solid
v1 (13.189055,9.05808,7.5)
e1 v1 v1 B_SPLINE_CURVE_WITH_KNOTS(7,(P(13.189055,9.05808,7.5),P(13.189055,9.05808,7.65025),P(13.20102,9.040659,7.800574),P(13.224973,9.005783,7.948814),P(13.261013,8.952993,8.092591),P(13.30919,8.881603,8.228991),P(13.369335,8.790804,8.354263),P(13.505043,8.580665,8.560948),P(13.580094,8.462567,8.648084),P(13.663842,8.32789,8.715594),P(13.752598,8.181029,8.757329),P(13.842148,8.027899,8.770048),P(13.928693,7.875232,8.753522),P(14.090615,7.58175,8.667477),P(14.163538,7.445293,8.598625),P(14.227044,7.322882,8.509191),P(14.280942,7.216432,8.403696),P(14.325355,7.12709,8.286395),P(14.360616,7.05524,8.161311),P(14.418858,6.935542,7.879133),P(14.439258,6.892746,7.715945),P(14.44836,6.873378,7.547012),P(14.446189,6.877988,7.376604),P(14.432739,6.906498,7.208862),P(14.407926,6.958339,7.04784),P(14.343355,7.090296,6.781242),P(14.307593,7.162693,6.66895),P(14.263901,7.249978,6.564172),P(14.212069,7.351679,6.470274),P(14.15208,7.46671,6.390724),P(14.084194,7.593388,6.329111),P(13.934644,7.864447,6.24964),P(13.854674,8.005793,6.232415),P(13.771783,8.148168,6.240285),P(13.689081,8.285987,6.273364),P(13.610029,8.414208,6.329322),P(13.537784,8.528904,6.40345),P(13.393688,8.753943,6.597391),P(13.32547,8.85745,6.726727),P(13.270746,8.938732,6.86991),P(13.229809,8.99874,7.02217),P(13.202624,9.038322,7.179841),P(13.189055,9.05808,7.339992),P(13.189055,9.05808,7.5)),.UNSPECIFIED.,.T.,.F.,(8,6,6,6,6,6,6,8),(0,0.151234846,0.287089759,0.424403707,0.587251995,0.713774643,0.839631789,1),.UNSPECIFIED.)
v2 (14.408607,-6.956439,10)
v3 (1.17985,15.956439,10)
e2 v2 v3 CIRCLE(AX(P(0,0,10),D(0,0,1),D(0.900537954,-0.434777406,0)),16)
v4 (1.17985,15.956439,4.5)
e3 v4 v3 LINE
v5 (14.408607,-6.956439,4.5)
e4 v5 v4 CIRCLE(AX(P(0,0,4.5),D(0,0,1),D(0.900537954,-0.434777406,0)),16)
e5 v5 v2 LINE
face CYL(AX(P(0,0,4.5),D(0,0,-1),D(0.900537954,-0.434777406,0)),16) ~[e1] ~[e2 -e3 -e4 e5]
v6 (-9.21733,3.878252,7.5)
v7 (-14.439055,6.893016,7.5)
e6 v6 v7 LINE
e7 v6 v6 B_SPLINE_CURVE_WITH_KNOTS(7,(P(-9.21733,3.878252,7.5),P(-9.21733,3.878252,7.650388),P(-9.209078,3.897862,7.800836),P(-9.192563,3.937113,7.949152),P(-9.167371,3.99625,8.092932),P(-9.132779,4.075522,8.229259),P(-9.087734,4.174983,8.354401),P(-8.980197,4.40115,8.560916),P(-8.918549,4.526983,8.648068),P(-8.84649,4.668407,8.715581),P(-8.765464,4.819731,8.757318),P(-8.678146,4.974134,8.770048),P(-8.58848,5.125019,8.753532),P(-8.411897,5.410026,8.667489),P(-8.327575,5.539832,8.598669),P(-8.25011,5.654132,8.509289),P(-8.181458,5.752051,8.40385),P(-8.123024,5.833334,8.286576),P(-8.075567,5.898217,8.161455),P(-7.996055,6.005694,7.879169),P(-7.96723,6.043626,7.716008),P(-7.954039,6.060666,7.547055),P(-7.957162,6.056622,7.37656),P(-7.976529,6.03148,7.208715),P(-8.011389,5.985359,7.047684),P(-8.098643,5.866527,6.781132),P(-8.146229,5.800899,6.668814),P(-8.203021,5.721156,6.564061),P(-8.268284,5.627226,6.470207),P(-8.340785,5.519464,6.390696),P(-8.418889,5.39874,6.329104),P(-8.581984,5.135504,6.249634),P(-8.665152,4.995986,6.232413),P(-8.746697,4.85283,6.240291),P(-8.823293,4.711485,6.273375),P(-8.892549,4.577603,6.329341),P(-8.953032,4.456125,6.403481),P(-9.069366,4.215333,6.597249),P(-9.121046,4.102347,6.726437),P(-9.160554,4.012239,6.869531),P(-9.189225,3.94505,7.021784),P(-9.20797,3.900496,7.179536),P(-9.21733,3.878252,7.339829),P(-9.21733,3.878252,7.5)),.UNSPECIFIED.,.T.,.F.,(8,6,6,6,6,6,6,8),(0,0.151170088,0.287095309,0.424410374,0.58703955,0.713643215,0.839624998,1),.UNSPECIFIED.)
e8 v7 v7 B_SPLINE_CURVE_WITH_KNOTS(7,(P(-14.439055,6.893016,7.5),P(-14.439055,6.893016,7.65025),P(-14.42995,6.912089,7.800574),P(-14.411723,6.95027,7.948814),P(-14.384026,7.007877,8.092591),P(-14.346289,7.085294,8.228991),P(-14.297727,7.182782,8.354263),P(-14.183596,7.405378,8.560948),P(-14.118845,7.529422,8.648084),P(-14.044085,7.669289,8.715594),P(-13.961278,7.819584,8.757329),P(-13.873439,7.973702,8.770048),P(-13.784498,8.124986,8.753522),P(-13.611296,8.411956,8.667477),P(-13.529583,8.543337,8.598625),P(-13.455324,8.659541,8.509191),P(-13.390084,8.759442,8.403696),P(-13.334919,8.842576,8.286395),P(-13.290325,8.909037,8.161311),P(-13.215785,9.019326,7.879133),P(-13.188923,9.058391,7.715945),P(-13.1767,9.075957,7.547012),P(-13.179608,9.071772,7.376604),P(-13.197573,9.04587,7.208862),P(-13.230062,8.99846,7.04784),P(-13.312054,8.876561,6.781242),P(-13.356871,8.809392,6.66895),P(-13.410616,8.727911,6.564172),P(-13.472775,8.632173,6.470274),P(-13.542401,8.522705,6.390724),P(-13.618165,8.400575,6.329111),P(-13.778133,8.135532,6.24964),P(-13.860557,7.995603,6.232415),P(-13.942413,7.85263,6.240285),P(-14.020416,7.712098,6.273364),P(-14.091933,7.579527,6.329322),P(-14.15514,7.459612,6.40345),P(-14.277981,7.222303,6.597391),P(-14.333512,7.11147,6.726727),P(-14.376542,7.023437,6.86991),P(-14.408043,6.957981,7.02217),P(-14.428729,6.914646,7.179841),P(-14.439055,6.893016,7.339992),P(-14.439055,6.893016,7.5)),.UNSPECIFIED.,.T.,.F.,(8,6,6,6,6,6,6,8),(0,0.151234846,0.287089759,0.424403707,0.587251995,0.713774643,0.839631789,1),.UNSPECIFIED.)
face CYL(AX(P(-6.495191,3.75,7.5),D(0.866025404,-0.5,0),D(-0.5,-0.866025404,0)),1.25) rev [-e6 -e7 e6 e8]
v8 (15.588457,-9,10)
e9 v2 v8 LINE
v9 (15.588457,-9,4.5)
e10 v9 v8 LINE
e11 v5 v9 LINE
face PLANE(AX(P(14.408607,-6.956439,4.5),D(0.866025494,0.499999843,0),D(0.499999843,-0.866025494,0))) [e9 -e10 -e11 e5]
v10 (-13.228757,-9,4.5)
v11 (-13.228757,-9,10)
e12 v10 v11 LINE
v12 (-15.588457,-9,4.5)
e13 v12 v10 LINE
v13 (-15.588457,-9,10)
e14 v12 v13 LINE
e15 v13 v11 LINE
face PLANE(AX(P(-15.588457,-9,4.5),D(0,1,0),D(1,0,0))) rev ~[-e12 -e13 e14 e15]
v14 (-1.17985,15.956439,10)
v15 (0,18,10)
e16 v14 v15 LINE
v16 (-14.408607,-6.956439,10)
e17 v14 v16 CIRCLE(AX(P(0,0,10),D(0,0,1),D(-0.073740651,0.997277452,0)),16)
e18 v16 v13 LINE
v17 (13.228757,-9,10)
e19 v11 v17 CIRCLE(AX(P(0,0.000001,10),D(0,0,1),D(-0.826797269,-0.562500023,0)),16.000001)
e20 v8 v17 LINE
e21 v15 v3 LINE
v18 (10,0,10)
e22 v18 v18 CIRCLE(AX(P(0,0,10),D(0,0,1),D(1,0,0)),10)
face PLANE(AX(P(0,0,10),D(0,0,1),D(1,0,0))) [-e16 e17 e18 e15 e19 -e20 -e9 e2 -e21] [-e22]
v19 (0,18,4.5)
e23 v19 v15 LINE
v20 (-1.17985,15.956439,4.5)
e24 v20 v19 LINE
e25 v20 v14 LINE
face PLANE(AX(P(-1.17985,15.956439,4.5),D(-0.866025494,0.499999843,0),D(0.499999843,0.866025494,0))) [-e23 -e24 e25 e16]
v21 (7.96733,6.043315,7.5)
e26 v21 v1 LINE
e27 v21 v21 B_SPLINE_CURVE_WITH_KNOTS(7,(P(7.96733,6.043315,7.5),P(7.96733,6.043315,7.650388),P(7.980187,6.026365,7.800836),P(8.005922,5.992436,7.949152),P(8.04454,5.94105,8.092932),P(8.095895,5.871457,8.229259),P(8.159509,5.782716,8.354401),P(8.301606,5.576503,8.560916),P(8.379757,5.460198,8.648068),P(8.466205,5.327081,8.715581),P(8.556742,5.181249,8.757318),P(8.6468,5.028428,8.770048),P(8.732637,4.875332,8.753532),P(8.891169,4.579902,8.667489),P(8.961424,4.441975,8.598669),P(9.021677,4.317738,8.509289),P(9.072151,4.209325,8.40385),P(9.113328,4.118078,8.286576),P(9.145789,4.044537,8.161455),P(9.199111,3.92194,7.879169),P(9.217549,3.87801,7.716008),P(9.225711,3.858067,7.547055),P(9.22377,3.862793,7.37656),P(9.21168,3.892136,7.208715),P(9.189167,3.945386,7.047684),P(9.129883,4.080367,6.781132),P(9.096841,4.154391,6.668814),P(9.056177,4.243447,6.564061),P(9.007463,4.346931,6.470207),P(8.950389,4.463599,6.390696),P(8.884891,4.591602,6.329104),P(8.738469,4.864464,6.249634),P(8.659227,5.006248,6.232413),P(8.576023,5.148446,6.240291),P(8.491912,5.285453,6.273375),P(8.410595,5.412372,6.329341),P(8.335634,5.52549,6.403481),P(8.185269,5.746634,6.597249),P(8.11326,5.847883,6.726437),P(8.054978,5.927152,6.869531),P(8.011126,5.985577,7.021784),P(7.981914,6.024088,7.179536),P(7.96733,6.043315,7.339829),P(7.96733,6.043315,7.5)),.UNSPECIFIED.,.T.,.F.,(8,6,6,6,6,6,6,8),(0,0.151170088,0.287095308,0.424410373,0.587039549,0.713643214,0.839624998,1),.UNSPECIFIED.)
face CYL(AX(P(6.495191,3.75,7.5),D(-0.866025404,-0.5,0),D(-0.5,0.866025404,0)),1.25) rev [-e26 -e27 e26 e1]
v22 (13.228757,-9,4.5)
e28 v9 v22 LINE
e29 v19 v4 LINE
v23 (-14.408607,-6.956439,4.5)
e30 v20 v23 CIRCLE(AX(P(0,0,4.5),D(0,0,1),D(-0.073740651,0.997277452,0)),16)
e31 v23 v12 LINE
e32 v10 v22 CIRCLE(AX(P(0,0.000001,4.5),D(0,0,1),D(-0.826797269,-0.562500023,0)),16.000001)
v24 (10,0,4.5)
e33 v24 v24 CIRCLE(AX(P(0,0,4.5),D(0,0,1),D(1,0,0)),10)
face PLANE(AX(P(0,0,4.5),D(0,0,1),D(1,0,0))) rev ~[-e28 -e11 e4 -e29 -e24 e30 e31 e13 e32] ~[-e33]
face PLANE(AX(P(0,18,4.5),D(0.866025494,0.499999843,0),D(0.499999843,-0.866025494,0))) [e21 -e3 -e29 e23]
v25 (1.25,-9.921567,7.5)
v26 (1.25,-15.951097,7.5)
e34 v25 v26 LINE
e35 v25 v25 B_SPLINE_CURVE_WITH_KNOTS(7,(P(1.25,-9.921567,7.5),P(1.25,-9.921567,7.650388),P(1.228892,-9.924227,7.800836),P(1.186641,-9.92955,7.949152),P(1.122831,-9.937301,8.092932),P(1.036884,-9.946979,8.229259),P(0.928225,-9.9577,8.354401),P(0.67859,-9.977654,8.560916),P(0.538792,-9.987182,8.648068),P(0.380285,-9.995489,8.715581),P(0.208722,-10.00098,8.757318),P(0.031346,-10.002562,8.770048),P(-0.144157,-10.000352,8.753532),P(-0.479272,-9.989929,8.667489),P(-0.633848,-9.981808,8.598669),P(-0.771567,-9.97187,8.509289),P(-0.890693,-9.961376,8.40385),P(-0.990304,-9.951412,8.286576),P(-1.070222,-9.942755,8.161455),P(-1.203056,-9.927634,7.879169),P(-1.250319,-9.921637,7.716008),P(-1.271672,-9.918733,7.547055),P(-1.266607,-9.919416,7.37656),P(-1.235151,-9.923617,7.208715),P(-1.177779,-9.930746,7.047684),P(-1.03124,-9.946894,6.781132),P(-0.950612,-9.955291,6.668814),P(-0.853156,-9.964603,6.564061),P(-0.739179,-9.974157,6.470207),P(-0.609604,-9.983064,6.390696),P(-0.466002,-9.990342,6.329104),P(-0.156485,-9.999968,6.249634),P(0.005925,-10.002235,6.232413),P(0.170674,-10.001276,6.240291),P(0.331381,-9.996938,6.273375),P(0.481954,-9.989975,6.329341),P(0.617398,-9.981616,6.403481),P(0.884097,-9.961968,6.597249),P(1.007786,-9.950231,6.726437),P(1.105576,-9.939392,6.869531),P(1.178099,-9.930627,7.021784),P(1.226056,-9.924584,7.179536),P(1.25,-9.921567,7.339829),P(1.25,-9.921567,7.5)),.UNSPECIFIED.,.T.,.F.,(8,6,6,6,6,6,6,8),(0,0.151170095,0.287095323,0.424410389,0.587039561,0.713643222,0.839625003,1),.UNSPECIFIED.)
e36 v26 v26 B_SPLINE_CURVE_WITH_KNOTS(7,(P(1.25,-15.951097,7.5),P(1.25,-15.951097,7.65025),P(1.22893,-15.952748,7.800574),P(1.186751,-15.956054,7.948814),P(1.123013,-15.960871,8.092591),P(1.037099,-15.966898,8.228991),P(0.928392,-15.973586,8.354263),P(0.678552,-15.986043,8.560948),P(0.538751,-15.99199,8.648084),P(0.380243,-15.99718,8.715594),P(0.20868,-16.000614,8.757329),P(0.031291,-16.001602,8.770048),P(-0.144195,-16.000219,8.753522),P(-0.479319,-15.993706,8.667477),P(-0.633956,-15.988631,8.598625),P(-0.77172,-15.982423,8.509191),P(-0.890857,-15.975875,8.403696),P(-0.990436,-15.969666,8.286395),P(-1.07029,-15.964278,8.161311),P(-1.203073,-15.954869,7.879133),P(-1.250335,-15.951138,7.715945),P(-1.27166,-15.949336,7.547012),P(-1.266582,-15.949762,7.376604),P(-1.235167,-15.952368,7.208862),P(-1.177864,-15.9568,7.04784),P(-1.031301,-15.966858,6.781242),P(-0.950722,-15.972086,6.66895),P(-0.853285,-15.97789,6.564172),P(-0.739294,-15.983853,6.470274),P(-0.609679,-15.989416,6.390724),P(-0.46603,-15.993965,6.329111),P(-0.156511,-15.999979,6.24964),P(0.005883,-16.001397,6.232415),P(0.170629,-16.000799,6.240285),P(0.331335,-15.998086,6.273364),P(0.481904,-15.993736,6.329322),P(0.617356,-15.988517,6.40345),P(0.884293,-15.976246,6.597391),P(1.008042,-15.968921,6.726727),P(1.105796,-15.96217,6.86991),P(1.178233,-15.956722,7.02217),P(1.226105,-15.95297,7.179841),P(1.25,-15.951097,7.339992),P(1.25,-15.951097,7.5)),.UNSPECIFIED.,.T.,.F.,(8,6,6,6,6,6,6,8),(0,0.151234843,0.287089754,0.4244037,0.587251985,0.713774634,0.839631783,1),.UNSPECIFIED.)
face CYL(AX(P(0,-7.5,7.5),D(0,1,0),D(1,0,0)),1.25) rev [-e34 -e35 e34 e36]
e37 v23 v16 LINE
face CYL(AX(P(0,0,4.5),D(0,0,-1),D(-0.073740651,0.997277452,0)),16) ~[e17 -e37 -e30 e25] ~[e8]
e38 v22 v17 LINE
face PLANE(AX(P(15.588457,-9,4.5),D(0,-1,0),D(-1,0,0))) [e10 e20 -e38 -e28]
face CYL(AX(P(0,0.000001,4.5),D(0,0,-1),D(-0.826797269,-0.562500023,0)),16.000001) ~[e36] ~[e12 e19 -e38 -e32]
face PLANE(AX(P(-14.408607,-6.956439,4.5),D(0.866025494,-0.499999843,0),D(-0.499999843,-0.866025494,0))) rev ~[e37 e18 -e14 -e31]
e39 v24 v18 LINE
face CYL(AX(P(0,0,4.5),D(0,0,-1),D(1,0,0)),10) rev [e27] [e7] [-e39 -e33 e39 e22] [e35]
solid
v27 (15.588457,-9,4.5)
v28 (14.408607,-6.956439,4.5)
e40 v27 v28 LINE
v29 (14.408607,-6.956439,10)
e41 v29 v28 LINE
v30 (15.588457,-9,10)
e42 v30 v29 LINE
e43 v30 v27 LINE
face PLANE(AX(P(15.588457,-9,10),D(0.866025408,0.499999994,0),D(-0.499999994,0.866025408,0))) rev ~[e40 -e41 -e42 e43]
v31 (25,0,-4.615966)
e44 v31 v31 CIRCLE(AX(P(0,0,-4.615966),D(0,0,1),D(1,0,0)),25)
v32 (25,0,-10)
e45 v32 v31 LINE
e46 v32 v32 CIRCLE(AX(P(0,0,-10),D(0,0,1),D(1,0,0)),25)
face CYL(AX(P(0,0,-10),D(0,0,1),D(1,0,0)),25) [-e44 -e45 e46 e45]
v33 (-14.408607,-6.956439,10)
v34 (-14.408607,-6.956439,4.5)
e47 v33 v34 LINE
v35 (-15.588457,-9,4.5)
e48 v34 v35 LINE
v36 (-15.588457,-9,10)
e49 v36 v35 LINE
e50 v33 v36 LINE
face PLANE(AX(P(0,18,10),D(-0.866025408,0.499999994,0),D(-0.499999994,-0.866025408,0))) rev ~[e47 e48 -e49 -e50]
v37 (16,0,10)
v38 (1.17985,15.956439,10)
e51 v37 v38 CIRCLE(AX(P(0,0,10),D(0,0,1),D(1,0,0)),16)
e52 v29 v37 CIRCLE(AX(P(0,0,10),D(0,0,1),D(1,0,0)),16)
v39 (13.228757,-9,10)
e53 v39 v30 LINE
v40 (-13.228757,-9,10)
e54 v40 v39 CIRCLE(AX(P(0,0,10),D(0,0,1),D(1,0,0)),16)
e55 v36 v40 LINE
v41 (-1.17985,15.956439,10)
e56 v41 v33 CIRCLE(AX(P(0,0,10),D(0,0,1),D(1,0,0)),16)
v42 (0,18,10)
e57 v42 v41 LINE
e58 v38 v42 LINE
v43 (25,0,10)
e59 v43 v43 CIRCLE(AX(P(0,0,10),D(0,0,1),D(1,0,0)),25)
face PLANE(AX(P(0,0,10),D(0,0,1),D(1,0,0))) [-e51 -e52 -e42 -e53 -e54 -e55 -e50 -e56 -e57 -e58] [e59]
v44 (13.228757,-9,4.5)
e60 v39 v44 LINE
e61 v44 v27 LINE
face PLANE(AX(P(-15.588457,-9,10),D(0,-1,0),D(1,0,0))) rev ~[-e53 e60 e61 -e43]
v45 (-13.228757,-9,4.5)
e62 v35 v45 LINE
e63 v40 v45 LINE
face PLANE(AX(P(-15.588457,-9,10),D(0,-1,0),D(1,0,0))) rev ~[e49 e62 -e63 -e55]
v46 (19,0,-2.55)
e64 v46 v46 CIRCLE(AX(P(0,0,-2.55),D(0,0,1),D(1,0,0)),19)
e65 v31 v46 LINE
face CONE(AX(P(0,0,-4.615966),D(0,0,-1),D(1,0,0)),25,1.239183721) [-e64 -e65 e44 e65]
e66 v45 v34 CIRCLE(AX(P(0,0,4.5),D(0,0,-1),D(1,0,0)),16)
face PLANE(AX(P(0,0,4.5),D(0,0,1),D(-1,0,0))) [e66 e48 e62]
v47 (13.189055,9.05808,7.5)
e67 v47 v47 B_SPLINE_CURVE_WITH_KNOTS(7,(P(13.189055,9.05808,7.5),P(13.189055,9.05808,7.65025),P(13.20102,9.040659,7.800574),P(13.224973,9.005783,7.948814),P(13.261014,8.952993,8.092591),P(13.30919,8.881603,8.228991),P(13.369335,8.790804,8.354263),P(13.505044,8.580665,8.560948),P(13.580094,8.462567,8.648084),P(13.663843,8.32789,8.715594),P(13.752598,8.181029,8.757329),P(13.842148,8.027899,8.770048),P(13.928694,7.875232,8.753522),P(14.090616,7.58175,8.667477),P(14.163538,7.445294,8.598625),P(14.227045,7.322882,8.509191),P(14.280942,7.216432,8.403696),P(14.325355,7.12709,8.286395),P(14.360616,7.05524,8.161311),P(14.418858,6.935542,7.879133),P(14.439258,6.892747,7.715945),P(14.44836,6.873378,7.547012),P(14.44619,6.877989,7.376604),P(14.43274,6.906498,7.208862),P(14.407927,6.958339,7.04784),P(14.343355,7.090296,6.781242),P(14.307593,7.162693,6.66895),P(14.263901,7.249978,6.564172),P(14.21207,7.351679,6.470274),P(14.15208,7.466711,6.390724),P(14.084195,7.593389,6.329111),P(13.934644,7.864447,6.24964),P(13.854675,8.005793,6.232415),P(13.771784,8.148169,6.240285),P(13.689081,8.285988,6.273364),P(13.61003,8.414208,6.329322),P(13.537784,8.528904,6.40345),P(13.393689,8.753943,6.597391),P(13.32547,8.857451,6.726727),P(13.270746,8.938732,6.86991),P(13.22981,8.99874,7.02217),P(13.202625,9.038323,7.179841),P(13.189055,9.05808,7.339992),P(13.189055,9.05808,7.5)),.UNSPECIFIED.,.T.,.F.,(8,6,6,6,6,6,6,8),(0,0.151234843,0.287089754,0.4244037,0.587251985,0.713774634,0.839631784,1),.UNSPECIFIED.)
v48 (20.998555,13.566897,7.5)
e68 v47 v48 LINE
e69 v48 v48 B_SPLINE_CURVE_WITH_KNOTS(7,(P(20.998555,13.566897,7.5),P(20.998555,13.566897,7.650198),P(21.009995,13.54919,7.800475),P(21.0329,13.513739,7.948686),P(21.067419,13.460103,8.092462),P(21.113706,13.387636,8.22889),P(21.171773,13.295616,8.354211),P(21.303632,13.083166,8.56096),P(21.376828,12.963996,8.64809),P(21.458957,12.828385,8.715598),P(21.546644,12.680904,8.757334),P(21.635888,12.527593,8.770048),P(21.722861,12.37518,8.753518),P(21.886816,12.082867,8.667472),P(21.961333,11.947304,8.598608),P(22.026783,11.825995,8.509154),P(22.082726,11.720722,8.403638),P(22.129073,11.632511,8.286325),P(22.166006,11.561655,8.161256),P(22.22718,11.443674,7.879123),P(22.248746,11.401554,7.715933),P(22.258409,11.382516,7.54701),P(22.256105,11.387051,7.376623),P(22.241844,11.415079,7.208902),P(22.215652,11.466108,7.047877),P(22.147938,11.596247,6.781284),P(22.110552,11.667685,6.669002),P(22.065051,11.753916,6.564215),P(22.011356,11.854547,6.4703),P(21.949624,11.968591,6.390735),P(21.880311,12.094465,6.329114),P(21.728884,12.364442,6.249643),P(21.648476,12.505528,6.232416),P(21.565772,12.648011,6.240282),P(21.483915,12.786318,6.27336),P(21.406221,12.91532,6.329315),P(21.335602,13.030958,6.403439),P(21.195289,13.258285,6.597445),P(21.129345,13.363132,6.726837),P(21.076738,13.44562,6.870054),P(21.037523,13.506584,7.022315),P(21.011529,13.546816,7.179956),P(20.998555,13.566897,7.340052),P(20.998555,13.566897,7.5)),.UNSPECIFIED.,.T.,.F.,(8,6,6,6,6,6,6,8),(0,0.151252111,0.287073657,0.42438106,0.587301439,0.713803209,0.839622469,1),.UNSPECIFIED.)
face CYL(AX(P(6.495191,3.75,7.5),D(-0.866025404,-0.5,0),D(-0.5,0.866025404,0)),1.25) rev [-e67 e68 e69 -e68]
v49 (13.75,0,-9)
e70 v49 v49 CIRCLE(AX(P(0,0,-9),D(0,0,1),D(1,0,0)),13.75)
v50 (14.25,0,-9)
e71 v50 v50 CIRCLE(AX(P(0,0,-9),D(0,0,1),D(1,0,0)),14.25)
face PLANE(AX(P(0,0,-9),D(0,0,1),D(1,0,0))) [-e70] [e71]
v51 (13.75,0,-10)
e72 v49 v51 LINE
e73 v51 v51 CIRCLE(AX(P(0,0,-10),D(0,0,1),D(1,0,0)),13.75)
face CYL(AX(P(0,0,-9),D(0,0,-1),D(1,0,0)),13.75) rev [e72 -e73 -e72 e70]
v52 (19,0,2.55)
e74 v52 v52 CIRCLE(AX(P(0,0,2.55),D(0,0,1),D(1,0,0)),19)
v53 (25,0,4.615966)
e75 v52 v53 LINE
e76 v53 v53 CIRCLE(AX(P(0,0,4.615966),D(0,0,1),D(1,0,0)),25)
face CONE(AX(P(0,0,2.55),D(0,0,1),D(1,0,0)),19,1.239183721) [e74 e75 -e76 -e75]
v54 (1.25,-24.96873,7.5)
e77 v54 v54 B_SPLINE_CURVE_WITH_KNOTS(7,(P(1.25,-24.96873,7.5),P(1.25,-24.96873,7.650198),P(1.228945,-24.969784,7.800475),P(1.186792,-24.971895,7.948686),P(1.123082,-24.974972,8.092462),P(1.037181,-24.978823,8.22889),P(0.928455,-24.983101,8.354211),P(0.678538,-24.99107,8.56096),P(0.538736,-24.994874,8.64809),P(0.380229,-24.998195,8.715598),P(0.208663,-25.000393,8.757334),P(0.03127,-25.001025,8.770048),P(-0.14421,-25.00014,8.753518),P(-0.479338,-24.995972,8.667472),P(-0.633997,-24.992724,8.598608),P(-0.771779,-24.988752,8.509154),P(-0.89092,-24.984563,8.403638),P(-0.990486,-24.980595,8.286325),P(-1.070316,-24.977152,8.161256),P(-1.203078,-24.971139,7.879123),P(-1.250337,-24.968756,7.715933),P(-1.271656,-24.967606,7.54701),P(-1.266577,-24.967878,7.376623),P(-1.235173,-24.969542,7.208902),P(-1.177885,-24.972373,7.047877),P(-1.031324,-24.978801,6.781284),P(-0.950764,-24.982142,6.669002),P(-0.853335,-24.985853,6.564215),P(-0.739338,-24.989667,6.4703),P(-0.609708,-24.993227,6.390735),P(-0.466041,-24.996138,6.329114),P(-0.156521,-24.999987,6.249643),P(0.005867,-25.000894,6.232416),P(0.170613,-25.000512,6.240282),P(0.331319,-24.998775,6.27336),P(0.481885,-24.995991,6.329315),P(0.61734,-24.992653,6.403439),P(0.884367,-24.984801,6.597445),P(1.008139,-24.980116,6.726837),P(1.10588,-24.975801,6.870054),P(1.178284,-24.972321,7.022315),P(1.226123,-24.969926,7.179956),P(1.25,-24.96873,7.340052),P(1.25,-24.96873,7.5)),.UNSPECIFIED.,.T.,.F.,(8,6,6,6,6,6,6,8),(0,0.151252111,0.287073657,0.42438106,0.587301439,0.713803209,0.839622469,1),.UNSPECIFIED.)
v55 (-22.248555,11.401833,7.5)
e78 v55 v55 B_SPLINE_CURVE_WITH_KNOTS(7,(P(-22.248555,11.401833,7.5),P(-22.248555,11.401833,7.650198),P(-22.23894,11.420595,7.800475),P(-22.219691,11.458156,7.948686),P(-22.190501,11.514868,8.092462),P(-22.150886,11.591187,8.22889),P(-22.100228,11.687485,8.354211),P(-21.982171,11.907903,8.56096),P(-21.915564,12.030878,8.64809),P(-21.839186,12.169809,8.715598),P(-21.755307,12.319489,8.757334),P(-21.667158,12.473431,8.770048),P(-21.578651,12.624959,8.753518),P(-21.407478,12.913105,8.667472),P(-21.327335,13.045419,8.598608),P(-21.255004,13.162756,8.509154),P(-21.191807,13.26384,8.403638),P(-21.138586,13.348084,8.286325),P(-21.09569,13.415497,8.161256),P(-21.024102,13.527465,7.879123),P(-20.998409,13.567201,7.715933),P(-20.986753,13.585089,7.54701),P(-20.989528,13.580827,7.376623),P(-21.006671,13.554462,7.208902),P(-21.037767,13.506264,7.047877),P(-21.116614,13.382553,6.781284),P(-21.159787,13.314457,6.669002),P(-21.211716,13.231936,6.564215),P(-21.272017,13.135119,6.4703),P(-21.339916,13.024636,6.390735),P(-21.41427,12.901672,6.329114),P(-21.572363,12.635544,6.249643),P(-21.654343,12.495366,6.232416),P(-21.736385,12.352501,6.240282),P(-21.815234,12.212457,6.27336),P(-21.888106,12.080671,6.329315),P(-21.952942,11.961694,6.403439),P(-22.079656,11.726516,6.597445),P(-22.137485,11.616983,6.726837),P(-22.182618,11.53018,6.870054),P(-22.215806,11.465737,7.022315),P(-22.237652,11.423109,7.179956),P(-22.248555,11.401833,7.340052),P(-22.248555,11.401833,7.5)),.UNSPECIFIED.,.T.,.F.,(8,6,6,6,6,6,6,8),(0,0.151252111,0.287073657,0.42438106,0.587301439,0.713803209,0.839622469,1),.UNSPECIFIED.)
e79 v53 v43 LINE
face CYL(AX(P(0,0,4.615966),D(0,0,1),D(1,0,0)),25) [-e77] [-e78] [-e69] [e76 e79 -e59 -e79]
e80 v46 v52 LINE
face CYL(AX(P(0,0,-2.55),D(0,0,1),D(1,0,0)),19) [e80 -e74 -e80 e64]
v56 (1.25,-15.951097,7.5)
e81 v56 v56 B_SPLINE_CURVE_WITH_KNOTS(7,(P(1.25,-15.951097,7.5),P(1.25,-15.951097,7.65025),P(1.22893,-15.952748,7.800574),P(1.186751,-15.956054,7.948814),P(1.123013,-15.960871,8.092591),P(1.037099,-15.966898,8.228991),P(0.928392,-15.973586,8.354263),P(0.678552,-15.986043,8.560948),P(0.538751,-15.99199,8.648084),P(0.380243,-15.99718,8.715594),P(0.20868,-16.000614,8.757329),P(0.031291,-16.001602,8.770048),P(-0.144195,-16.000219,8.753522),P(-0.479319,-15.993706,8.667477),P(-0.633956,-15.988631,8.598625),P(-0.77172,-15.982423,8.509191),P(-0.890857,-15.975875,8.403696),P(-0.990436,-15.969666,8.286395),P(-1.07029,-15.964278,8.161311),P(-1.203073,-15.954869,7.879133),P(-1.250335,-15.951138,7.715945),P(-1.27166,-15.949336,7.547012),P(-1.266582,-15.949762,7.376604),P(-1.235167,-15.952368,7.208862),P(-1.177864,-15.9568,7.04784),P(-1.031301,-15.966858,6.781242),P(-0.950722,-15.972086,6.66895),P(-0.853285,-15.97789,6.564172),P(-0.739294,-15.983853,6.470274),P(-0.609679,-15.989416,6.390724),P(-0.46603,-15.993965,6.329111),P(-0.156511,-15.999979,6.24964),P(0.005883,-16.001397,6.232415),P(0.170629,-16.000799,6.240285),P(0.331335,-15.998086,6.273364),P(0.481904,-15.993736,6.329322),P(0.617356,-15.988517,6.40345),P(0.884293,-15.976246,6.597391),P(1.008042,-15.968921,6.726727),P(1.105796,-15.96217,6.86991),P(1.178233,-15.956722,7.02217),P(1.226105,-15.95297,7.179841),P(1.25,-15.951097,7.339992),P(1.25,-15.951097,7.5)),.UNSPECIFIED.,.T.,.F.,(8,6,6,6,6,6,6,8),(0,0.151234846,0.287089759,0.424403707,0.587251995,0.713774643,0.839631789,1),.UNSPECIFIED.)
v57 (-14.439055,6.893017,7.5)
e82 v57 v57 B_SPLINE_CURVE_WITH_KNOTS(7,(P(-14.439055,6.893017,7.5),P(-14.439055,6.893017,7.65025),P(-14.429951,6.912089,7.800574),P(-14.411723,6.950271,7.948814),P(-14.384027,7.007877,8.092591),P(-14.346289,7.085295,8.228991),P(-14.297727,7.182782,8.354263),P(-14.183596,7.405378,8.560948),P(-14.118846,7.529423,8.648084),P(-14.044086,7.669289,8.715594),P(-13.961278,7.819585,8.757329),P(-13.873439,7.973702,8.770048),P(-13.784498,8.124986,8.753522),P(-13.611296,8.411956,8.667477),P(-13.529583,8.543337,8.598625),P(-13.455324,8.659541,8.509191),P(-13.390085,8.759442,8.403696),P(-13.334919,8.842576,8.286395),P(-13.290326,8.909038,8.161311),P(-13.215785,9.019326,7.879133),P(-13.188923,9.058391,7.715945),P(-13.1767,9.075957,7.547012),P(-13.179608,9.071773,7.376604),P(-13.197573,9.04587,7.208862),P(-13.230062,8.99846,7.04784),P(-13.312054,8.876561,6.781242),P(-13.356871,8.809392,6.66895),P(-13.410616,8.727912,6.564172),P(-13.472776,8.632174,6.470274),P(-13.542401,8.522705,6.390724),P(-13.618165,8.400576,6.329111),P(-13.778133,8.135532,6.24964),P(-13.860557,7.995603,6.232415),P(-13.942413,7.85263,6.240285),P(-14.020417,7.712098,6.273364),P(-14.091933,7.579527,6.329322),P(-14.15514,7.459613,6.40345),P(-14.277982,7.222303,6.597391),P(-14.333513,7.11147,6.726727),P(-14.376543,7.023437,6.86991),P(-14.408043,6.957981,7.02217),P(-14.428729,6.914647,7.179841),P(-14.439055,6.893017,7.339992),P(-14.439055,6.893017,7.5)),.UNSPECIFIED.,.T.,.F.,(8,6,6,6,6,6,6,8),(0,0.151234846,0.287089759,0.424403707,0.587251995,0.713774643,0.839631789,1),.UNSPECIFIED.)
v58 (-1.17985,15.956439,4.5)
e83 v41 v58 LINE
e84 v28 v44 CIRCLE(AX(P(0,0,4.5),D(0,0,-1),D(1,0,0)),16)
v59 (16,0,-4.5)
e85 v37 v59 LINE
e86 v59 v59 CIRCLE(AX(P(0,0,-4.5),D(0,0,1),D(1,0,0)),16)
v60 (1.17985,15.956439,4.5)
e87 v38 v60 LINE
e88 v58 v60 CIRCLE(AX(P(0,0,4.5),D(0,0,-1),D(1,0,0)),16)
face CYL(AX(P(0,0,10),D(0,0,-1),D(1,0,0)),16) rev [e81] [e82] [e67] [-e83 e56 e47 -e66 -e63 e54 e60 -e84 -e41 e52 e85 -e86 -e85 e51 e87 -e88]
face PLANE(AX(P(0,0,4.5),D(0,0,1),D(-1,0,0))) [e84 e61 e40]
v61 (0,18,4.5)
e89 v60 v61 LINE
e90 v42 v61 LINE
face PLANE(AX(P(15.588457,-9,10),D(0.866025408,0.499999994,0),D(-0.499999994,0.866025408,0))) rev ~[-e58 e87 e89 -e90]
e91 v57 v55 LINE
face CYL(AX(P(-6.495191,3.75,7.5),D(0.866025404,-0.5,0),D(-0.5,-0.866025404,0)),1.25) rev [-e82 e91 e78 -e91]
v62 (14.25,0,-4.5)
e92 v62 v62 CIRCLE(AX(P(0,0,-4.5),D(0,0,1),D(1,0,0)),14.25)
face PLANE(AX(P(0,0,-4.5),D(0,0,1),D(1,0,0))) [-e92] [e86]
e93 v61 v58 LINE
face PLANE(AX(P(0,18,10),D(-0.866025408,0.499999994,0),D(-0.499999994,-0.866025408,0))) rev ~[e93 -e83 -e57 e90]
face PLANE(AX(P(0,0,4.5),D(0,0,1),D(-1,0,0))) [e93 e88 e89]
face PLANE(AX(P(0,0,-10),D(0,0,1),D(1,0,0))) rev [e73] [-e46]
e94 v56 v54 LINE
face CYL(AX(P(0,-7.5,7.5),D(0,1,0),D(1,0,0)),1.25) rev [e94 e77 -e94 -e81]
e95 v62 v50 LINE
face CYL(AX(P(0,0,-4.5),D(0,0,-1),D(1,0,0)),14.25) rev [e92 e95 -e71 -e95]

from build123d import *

# Parameters (mm, degrees)
CYLINDER002_R               = 1.25
CYLINDER002_DEPTH           = 20
CYLINDER002_ROLL_ANGLE      = 90
CYLINDER002_PLACEMENT_ANGLE = 120
CYLINDER001_R               = 1.25
CYLINDER001_DEPTH           = 20
CYLINDER001_ROLL_ANGLE      = 90
CYLINDER001_PLACEMENT_ANGLE = -120
CYLINDER_R                  = 1.25
CYLINDER_DEPTH              = 20
CYLINDER_ROLL_ANGLE         = 90
SKETCH004_R                 = 10
PAD_DEPTH                   = 5.5
POCKET_DEPTH                = 5.5


with BuildPart() as c_righthole_cylinder:
    # Cylinder002 → Cylinder002 (new body)
    with BuildSketch(Plane.XY):
        Circle(CYLINDER002_R)
    extrude(amount=CYLINDER002_DEPTH)


with BuildPart() as c_righthole_cylinder_1:
    # Cylinder002 roll: moved
    add(c_righthole_cylinder.part.rotate(Axis((0, 0, 0), (1, 0, 0)), CYLINDER002_ROLL_ANGLE))


with BuildPart() as c_righthole_cylinder_2:
    # Cylinder002 placement: moved
    add(c_righthole_cylinder_1.part.moved(Location((6.495191, 3.75, 7.5))).rotate(Axis((6.495191, 3.75, 7.5), (0, 0, 1)), CYLINDER002_PLACEMENT_ANGLE))


with BuildPart() as b_lefthole_cylinder:
    # Cylinder001 → Cylinder001 (new body)
    with BuildSketch(Plane.XY):
        Circle(CYLINDER001_R)
    extrude(amount=CYLINDER001_DEPTH)


with BuildPart() as b_lefthole_cylinder_1:
    # Cylinder001 roll: moved
    add(b_lefthole_cylinder.part.rotate(Axis((0, 0, 0), (1, 0, 0)), CYLINDER001_ROLL_ANGLE))


with BuildPart() as b_lefthole_cylinder_2:
    # Cylinder001 placement: moved
    add(b_lefthole_cylinder_1.part.moved(Location((-6.495191, 3.75, 7.5))).rotate(Axis((-6.495191, 3.75, 7.5), (0, 0, 1)), CYLINDER001_PLACEMENT_ANGLE))


with BuildPart() as a_fronthole_cylinder:
    # Cylinder → Cylinder (new body)
    with BuildSketch(Plane.XY):
        Circle(CYLINDER_R)
    extrude(amount=CYLINDER_DEPTH)


with BuildPart() as a_fronthole_cylinder_1:
    # Cylinder roll: moved
    add(a_fronthole_cylinder.part.rotate(Axis((0, 0, 0), (1, 0, 0)), CYLINDER_ROLL_ANGLE))


with BuildPart() as a_fronthole_cylinder_2:
    # Cylinder placement: moved
    add(a_fronthole_cylinder_1.part.moved(Location((0, -7.5, 7.5))))


with BuildPart() as f_4_ringrighthole_cut:
    # Sketch004 → Pad (new body)
    with BuildSketch(Plane.XY.offset(4.5)):
        with BuildLine():
            ThreePointArc((14.408607, -6.956439), (13.856406, 8), (1.17985, 15.956439))
            Line((0, 18), (1.17985, 15.956439))
            Line((-1.17985, 15.956439), (0, 18))
            ThreePointArc((-1.17985, 15.956439), (-13.856406, 8), (-14.408607, -6.956439))
            Line((-14.408607, -6.956439), (-15.588457, -9))
            Line((-15.588457, -9), (-13.228757, -9))
            ThreePointArc((-13.228757, -9), (0, -16), (13.228757, -9))
            Line((15.588457, -9), (13.228757, -9))
            Line((14.408607, -6.956439), (15.588457, -9))
        make_face()
        Circle(SKETCH004_R, mode=Mode.SUBTRACT)
    extrude(amount=PAD_DEPTH)

    # Cut: cut A_FrontHole_Cylinder
    add(a_fronthole_cylinder_2.part, mode=Mode.SUBTRACT)

    # Cut001: cut B_LeftHole_Cylinder
    add(b_lefthole_cylinder_2.part, mode=Mode.SUBTRACT)

    # Cut002: cut C_RightHole_Cylinder
    add(c_righthole_cylinder_2.part, mode=Mode.SUBTRACT)


with BuildPart() as f_4_bodyrighthole_cut:
    # Sketch → Revolution001 (revolve)
    with BuildSketch(Plane.XZ):
        Polygon((13.75, -10), (25, -10), (25, -4.615966), (19, -2.55), (19, 2.55), (25, 4.615966), (25, 10), (16, 10), (16, -4.5), (14.25, -4.5), (14.25, -9), (13.75, -9), align=None)
    revolve(axis=Axis((0, 0, 0), (0, 0, 1)))

    # Sketch005 → Pocket (cut)
    with BuildSketch(Plane(origin=(0, 0, 10), x_dir=(-1, 0, 0), z_dir=(0, 0, 1))):
        Polygon((0, -18), (15.588457, 9), (-15.588457, 9), align=None)
    extrude(amount=-POCKET_DEPTH, mode=Mode.SUBTRACT)

    # Cut003: cut A_FrontHole_Cylinder
    add(a_fronthole_cylinder_2.part, mode=Mode.SUBTRACT)

    # Cut004: cut B_LeftHole_Cylinder
    add(b_lefthole_cylinder_2.part, mode=Mode.SUBTRACT)

    # Cut005: cut C_RightHole_Cylinder
    add(c_righthole_cylinder_2.part, mode=Mode.SUBTRACT)


solid = Compound([f_4_ringrighthole_cut.part, f_4_bodyrighthole_cut.part])
